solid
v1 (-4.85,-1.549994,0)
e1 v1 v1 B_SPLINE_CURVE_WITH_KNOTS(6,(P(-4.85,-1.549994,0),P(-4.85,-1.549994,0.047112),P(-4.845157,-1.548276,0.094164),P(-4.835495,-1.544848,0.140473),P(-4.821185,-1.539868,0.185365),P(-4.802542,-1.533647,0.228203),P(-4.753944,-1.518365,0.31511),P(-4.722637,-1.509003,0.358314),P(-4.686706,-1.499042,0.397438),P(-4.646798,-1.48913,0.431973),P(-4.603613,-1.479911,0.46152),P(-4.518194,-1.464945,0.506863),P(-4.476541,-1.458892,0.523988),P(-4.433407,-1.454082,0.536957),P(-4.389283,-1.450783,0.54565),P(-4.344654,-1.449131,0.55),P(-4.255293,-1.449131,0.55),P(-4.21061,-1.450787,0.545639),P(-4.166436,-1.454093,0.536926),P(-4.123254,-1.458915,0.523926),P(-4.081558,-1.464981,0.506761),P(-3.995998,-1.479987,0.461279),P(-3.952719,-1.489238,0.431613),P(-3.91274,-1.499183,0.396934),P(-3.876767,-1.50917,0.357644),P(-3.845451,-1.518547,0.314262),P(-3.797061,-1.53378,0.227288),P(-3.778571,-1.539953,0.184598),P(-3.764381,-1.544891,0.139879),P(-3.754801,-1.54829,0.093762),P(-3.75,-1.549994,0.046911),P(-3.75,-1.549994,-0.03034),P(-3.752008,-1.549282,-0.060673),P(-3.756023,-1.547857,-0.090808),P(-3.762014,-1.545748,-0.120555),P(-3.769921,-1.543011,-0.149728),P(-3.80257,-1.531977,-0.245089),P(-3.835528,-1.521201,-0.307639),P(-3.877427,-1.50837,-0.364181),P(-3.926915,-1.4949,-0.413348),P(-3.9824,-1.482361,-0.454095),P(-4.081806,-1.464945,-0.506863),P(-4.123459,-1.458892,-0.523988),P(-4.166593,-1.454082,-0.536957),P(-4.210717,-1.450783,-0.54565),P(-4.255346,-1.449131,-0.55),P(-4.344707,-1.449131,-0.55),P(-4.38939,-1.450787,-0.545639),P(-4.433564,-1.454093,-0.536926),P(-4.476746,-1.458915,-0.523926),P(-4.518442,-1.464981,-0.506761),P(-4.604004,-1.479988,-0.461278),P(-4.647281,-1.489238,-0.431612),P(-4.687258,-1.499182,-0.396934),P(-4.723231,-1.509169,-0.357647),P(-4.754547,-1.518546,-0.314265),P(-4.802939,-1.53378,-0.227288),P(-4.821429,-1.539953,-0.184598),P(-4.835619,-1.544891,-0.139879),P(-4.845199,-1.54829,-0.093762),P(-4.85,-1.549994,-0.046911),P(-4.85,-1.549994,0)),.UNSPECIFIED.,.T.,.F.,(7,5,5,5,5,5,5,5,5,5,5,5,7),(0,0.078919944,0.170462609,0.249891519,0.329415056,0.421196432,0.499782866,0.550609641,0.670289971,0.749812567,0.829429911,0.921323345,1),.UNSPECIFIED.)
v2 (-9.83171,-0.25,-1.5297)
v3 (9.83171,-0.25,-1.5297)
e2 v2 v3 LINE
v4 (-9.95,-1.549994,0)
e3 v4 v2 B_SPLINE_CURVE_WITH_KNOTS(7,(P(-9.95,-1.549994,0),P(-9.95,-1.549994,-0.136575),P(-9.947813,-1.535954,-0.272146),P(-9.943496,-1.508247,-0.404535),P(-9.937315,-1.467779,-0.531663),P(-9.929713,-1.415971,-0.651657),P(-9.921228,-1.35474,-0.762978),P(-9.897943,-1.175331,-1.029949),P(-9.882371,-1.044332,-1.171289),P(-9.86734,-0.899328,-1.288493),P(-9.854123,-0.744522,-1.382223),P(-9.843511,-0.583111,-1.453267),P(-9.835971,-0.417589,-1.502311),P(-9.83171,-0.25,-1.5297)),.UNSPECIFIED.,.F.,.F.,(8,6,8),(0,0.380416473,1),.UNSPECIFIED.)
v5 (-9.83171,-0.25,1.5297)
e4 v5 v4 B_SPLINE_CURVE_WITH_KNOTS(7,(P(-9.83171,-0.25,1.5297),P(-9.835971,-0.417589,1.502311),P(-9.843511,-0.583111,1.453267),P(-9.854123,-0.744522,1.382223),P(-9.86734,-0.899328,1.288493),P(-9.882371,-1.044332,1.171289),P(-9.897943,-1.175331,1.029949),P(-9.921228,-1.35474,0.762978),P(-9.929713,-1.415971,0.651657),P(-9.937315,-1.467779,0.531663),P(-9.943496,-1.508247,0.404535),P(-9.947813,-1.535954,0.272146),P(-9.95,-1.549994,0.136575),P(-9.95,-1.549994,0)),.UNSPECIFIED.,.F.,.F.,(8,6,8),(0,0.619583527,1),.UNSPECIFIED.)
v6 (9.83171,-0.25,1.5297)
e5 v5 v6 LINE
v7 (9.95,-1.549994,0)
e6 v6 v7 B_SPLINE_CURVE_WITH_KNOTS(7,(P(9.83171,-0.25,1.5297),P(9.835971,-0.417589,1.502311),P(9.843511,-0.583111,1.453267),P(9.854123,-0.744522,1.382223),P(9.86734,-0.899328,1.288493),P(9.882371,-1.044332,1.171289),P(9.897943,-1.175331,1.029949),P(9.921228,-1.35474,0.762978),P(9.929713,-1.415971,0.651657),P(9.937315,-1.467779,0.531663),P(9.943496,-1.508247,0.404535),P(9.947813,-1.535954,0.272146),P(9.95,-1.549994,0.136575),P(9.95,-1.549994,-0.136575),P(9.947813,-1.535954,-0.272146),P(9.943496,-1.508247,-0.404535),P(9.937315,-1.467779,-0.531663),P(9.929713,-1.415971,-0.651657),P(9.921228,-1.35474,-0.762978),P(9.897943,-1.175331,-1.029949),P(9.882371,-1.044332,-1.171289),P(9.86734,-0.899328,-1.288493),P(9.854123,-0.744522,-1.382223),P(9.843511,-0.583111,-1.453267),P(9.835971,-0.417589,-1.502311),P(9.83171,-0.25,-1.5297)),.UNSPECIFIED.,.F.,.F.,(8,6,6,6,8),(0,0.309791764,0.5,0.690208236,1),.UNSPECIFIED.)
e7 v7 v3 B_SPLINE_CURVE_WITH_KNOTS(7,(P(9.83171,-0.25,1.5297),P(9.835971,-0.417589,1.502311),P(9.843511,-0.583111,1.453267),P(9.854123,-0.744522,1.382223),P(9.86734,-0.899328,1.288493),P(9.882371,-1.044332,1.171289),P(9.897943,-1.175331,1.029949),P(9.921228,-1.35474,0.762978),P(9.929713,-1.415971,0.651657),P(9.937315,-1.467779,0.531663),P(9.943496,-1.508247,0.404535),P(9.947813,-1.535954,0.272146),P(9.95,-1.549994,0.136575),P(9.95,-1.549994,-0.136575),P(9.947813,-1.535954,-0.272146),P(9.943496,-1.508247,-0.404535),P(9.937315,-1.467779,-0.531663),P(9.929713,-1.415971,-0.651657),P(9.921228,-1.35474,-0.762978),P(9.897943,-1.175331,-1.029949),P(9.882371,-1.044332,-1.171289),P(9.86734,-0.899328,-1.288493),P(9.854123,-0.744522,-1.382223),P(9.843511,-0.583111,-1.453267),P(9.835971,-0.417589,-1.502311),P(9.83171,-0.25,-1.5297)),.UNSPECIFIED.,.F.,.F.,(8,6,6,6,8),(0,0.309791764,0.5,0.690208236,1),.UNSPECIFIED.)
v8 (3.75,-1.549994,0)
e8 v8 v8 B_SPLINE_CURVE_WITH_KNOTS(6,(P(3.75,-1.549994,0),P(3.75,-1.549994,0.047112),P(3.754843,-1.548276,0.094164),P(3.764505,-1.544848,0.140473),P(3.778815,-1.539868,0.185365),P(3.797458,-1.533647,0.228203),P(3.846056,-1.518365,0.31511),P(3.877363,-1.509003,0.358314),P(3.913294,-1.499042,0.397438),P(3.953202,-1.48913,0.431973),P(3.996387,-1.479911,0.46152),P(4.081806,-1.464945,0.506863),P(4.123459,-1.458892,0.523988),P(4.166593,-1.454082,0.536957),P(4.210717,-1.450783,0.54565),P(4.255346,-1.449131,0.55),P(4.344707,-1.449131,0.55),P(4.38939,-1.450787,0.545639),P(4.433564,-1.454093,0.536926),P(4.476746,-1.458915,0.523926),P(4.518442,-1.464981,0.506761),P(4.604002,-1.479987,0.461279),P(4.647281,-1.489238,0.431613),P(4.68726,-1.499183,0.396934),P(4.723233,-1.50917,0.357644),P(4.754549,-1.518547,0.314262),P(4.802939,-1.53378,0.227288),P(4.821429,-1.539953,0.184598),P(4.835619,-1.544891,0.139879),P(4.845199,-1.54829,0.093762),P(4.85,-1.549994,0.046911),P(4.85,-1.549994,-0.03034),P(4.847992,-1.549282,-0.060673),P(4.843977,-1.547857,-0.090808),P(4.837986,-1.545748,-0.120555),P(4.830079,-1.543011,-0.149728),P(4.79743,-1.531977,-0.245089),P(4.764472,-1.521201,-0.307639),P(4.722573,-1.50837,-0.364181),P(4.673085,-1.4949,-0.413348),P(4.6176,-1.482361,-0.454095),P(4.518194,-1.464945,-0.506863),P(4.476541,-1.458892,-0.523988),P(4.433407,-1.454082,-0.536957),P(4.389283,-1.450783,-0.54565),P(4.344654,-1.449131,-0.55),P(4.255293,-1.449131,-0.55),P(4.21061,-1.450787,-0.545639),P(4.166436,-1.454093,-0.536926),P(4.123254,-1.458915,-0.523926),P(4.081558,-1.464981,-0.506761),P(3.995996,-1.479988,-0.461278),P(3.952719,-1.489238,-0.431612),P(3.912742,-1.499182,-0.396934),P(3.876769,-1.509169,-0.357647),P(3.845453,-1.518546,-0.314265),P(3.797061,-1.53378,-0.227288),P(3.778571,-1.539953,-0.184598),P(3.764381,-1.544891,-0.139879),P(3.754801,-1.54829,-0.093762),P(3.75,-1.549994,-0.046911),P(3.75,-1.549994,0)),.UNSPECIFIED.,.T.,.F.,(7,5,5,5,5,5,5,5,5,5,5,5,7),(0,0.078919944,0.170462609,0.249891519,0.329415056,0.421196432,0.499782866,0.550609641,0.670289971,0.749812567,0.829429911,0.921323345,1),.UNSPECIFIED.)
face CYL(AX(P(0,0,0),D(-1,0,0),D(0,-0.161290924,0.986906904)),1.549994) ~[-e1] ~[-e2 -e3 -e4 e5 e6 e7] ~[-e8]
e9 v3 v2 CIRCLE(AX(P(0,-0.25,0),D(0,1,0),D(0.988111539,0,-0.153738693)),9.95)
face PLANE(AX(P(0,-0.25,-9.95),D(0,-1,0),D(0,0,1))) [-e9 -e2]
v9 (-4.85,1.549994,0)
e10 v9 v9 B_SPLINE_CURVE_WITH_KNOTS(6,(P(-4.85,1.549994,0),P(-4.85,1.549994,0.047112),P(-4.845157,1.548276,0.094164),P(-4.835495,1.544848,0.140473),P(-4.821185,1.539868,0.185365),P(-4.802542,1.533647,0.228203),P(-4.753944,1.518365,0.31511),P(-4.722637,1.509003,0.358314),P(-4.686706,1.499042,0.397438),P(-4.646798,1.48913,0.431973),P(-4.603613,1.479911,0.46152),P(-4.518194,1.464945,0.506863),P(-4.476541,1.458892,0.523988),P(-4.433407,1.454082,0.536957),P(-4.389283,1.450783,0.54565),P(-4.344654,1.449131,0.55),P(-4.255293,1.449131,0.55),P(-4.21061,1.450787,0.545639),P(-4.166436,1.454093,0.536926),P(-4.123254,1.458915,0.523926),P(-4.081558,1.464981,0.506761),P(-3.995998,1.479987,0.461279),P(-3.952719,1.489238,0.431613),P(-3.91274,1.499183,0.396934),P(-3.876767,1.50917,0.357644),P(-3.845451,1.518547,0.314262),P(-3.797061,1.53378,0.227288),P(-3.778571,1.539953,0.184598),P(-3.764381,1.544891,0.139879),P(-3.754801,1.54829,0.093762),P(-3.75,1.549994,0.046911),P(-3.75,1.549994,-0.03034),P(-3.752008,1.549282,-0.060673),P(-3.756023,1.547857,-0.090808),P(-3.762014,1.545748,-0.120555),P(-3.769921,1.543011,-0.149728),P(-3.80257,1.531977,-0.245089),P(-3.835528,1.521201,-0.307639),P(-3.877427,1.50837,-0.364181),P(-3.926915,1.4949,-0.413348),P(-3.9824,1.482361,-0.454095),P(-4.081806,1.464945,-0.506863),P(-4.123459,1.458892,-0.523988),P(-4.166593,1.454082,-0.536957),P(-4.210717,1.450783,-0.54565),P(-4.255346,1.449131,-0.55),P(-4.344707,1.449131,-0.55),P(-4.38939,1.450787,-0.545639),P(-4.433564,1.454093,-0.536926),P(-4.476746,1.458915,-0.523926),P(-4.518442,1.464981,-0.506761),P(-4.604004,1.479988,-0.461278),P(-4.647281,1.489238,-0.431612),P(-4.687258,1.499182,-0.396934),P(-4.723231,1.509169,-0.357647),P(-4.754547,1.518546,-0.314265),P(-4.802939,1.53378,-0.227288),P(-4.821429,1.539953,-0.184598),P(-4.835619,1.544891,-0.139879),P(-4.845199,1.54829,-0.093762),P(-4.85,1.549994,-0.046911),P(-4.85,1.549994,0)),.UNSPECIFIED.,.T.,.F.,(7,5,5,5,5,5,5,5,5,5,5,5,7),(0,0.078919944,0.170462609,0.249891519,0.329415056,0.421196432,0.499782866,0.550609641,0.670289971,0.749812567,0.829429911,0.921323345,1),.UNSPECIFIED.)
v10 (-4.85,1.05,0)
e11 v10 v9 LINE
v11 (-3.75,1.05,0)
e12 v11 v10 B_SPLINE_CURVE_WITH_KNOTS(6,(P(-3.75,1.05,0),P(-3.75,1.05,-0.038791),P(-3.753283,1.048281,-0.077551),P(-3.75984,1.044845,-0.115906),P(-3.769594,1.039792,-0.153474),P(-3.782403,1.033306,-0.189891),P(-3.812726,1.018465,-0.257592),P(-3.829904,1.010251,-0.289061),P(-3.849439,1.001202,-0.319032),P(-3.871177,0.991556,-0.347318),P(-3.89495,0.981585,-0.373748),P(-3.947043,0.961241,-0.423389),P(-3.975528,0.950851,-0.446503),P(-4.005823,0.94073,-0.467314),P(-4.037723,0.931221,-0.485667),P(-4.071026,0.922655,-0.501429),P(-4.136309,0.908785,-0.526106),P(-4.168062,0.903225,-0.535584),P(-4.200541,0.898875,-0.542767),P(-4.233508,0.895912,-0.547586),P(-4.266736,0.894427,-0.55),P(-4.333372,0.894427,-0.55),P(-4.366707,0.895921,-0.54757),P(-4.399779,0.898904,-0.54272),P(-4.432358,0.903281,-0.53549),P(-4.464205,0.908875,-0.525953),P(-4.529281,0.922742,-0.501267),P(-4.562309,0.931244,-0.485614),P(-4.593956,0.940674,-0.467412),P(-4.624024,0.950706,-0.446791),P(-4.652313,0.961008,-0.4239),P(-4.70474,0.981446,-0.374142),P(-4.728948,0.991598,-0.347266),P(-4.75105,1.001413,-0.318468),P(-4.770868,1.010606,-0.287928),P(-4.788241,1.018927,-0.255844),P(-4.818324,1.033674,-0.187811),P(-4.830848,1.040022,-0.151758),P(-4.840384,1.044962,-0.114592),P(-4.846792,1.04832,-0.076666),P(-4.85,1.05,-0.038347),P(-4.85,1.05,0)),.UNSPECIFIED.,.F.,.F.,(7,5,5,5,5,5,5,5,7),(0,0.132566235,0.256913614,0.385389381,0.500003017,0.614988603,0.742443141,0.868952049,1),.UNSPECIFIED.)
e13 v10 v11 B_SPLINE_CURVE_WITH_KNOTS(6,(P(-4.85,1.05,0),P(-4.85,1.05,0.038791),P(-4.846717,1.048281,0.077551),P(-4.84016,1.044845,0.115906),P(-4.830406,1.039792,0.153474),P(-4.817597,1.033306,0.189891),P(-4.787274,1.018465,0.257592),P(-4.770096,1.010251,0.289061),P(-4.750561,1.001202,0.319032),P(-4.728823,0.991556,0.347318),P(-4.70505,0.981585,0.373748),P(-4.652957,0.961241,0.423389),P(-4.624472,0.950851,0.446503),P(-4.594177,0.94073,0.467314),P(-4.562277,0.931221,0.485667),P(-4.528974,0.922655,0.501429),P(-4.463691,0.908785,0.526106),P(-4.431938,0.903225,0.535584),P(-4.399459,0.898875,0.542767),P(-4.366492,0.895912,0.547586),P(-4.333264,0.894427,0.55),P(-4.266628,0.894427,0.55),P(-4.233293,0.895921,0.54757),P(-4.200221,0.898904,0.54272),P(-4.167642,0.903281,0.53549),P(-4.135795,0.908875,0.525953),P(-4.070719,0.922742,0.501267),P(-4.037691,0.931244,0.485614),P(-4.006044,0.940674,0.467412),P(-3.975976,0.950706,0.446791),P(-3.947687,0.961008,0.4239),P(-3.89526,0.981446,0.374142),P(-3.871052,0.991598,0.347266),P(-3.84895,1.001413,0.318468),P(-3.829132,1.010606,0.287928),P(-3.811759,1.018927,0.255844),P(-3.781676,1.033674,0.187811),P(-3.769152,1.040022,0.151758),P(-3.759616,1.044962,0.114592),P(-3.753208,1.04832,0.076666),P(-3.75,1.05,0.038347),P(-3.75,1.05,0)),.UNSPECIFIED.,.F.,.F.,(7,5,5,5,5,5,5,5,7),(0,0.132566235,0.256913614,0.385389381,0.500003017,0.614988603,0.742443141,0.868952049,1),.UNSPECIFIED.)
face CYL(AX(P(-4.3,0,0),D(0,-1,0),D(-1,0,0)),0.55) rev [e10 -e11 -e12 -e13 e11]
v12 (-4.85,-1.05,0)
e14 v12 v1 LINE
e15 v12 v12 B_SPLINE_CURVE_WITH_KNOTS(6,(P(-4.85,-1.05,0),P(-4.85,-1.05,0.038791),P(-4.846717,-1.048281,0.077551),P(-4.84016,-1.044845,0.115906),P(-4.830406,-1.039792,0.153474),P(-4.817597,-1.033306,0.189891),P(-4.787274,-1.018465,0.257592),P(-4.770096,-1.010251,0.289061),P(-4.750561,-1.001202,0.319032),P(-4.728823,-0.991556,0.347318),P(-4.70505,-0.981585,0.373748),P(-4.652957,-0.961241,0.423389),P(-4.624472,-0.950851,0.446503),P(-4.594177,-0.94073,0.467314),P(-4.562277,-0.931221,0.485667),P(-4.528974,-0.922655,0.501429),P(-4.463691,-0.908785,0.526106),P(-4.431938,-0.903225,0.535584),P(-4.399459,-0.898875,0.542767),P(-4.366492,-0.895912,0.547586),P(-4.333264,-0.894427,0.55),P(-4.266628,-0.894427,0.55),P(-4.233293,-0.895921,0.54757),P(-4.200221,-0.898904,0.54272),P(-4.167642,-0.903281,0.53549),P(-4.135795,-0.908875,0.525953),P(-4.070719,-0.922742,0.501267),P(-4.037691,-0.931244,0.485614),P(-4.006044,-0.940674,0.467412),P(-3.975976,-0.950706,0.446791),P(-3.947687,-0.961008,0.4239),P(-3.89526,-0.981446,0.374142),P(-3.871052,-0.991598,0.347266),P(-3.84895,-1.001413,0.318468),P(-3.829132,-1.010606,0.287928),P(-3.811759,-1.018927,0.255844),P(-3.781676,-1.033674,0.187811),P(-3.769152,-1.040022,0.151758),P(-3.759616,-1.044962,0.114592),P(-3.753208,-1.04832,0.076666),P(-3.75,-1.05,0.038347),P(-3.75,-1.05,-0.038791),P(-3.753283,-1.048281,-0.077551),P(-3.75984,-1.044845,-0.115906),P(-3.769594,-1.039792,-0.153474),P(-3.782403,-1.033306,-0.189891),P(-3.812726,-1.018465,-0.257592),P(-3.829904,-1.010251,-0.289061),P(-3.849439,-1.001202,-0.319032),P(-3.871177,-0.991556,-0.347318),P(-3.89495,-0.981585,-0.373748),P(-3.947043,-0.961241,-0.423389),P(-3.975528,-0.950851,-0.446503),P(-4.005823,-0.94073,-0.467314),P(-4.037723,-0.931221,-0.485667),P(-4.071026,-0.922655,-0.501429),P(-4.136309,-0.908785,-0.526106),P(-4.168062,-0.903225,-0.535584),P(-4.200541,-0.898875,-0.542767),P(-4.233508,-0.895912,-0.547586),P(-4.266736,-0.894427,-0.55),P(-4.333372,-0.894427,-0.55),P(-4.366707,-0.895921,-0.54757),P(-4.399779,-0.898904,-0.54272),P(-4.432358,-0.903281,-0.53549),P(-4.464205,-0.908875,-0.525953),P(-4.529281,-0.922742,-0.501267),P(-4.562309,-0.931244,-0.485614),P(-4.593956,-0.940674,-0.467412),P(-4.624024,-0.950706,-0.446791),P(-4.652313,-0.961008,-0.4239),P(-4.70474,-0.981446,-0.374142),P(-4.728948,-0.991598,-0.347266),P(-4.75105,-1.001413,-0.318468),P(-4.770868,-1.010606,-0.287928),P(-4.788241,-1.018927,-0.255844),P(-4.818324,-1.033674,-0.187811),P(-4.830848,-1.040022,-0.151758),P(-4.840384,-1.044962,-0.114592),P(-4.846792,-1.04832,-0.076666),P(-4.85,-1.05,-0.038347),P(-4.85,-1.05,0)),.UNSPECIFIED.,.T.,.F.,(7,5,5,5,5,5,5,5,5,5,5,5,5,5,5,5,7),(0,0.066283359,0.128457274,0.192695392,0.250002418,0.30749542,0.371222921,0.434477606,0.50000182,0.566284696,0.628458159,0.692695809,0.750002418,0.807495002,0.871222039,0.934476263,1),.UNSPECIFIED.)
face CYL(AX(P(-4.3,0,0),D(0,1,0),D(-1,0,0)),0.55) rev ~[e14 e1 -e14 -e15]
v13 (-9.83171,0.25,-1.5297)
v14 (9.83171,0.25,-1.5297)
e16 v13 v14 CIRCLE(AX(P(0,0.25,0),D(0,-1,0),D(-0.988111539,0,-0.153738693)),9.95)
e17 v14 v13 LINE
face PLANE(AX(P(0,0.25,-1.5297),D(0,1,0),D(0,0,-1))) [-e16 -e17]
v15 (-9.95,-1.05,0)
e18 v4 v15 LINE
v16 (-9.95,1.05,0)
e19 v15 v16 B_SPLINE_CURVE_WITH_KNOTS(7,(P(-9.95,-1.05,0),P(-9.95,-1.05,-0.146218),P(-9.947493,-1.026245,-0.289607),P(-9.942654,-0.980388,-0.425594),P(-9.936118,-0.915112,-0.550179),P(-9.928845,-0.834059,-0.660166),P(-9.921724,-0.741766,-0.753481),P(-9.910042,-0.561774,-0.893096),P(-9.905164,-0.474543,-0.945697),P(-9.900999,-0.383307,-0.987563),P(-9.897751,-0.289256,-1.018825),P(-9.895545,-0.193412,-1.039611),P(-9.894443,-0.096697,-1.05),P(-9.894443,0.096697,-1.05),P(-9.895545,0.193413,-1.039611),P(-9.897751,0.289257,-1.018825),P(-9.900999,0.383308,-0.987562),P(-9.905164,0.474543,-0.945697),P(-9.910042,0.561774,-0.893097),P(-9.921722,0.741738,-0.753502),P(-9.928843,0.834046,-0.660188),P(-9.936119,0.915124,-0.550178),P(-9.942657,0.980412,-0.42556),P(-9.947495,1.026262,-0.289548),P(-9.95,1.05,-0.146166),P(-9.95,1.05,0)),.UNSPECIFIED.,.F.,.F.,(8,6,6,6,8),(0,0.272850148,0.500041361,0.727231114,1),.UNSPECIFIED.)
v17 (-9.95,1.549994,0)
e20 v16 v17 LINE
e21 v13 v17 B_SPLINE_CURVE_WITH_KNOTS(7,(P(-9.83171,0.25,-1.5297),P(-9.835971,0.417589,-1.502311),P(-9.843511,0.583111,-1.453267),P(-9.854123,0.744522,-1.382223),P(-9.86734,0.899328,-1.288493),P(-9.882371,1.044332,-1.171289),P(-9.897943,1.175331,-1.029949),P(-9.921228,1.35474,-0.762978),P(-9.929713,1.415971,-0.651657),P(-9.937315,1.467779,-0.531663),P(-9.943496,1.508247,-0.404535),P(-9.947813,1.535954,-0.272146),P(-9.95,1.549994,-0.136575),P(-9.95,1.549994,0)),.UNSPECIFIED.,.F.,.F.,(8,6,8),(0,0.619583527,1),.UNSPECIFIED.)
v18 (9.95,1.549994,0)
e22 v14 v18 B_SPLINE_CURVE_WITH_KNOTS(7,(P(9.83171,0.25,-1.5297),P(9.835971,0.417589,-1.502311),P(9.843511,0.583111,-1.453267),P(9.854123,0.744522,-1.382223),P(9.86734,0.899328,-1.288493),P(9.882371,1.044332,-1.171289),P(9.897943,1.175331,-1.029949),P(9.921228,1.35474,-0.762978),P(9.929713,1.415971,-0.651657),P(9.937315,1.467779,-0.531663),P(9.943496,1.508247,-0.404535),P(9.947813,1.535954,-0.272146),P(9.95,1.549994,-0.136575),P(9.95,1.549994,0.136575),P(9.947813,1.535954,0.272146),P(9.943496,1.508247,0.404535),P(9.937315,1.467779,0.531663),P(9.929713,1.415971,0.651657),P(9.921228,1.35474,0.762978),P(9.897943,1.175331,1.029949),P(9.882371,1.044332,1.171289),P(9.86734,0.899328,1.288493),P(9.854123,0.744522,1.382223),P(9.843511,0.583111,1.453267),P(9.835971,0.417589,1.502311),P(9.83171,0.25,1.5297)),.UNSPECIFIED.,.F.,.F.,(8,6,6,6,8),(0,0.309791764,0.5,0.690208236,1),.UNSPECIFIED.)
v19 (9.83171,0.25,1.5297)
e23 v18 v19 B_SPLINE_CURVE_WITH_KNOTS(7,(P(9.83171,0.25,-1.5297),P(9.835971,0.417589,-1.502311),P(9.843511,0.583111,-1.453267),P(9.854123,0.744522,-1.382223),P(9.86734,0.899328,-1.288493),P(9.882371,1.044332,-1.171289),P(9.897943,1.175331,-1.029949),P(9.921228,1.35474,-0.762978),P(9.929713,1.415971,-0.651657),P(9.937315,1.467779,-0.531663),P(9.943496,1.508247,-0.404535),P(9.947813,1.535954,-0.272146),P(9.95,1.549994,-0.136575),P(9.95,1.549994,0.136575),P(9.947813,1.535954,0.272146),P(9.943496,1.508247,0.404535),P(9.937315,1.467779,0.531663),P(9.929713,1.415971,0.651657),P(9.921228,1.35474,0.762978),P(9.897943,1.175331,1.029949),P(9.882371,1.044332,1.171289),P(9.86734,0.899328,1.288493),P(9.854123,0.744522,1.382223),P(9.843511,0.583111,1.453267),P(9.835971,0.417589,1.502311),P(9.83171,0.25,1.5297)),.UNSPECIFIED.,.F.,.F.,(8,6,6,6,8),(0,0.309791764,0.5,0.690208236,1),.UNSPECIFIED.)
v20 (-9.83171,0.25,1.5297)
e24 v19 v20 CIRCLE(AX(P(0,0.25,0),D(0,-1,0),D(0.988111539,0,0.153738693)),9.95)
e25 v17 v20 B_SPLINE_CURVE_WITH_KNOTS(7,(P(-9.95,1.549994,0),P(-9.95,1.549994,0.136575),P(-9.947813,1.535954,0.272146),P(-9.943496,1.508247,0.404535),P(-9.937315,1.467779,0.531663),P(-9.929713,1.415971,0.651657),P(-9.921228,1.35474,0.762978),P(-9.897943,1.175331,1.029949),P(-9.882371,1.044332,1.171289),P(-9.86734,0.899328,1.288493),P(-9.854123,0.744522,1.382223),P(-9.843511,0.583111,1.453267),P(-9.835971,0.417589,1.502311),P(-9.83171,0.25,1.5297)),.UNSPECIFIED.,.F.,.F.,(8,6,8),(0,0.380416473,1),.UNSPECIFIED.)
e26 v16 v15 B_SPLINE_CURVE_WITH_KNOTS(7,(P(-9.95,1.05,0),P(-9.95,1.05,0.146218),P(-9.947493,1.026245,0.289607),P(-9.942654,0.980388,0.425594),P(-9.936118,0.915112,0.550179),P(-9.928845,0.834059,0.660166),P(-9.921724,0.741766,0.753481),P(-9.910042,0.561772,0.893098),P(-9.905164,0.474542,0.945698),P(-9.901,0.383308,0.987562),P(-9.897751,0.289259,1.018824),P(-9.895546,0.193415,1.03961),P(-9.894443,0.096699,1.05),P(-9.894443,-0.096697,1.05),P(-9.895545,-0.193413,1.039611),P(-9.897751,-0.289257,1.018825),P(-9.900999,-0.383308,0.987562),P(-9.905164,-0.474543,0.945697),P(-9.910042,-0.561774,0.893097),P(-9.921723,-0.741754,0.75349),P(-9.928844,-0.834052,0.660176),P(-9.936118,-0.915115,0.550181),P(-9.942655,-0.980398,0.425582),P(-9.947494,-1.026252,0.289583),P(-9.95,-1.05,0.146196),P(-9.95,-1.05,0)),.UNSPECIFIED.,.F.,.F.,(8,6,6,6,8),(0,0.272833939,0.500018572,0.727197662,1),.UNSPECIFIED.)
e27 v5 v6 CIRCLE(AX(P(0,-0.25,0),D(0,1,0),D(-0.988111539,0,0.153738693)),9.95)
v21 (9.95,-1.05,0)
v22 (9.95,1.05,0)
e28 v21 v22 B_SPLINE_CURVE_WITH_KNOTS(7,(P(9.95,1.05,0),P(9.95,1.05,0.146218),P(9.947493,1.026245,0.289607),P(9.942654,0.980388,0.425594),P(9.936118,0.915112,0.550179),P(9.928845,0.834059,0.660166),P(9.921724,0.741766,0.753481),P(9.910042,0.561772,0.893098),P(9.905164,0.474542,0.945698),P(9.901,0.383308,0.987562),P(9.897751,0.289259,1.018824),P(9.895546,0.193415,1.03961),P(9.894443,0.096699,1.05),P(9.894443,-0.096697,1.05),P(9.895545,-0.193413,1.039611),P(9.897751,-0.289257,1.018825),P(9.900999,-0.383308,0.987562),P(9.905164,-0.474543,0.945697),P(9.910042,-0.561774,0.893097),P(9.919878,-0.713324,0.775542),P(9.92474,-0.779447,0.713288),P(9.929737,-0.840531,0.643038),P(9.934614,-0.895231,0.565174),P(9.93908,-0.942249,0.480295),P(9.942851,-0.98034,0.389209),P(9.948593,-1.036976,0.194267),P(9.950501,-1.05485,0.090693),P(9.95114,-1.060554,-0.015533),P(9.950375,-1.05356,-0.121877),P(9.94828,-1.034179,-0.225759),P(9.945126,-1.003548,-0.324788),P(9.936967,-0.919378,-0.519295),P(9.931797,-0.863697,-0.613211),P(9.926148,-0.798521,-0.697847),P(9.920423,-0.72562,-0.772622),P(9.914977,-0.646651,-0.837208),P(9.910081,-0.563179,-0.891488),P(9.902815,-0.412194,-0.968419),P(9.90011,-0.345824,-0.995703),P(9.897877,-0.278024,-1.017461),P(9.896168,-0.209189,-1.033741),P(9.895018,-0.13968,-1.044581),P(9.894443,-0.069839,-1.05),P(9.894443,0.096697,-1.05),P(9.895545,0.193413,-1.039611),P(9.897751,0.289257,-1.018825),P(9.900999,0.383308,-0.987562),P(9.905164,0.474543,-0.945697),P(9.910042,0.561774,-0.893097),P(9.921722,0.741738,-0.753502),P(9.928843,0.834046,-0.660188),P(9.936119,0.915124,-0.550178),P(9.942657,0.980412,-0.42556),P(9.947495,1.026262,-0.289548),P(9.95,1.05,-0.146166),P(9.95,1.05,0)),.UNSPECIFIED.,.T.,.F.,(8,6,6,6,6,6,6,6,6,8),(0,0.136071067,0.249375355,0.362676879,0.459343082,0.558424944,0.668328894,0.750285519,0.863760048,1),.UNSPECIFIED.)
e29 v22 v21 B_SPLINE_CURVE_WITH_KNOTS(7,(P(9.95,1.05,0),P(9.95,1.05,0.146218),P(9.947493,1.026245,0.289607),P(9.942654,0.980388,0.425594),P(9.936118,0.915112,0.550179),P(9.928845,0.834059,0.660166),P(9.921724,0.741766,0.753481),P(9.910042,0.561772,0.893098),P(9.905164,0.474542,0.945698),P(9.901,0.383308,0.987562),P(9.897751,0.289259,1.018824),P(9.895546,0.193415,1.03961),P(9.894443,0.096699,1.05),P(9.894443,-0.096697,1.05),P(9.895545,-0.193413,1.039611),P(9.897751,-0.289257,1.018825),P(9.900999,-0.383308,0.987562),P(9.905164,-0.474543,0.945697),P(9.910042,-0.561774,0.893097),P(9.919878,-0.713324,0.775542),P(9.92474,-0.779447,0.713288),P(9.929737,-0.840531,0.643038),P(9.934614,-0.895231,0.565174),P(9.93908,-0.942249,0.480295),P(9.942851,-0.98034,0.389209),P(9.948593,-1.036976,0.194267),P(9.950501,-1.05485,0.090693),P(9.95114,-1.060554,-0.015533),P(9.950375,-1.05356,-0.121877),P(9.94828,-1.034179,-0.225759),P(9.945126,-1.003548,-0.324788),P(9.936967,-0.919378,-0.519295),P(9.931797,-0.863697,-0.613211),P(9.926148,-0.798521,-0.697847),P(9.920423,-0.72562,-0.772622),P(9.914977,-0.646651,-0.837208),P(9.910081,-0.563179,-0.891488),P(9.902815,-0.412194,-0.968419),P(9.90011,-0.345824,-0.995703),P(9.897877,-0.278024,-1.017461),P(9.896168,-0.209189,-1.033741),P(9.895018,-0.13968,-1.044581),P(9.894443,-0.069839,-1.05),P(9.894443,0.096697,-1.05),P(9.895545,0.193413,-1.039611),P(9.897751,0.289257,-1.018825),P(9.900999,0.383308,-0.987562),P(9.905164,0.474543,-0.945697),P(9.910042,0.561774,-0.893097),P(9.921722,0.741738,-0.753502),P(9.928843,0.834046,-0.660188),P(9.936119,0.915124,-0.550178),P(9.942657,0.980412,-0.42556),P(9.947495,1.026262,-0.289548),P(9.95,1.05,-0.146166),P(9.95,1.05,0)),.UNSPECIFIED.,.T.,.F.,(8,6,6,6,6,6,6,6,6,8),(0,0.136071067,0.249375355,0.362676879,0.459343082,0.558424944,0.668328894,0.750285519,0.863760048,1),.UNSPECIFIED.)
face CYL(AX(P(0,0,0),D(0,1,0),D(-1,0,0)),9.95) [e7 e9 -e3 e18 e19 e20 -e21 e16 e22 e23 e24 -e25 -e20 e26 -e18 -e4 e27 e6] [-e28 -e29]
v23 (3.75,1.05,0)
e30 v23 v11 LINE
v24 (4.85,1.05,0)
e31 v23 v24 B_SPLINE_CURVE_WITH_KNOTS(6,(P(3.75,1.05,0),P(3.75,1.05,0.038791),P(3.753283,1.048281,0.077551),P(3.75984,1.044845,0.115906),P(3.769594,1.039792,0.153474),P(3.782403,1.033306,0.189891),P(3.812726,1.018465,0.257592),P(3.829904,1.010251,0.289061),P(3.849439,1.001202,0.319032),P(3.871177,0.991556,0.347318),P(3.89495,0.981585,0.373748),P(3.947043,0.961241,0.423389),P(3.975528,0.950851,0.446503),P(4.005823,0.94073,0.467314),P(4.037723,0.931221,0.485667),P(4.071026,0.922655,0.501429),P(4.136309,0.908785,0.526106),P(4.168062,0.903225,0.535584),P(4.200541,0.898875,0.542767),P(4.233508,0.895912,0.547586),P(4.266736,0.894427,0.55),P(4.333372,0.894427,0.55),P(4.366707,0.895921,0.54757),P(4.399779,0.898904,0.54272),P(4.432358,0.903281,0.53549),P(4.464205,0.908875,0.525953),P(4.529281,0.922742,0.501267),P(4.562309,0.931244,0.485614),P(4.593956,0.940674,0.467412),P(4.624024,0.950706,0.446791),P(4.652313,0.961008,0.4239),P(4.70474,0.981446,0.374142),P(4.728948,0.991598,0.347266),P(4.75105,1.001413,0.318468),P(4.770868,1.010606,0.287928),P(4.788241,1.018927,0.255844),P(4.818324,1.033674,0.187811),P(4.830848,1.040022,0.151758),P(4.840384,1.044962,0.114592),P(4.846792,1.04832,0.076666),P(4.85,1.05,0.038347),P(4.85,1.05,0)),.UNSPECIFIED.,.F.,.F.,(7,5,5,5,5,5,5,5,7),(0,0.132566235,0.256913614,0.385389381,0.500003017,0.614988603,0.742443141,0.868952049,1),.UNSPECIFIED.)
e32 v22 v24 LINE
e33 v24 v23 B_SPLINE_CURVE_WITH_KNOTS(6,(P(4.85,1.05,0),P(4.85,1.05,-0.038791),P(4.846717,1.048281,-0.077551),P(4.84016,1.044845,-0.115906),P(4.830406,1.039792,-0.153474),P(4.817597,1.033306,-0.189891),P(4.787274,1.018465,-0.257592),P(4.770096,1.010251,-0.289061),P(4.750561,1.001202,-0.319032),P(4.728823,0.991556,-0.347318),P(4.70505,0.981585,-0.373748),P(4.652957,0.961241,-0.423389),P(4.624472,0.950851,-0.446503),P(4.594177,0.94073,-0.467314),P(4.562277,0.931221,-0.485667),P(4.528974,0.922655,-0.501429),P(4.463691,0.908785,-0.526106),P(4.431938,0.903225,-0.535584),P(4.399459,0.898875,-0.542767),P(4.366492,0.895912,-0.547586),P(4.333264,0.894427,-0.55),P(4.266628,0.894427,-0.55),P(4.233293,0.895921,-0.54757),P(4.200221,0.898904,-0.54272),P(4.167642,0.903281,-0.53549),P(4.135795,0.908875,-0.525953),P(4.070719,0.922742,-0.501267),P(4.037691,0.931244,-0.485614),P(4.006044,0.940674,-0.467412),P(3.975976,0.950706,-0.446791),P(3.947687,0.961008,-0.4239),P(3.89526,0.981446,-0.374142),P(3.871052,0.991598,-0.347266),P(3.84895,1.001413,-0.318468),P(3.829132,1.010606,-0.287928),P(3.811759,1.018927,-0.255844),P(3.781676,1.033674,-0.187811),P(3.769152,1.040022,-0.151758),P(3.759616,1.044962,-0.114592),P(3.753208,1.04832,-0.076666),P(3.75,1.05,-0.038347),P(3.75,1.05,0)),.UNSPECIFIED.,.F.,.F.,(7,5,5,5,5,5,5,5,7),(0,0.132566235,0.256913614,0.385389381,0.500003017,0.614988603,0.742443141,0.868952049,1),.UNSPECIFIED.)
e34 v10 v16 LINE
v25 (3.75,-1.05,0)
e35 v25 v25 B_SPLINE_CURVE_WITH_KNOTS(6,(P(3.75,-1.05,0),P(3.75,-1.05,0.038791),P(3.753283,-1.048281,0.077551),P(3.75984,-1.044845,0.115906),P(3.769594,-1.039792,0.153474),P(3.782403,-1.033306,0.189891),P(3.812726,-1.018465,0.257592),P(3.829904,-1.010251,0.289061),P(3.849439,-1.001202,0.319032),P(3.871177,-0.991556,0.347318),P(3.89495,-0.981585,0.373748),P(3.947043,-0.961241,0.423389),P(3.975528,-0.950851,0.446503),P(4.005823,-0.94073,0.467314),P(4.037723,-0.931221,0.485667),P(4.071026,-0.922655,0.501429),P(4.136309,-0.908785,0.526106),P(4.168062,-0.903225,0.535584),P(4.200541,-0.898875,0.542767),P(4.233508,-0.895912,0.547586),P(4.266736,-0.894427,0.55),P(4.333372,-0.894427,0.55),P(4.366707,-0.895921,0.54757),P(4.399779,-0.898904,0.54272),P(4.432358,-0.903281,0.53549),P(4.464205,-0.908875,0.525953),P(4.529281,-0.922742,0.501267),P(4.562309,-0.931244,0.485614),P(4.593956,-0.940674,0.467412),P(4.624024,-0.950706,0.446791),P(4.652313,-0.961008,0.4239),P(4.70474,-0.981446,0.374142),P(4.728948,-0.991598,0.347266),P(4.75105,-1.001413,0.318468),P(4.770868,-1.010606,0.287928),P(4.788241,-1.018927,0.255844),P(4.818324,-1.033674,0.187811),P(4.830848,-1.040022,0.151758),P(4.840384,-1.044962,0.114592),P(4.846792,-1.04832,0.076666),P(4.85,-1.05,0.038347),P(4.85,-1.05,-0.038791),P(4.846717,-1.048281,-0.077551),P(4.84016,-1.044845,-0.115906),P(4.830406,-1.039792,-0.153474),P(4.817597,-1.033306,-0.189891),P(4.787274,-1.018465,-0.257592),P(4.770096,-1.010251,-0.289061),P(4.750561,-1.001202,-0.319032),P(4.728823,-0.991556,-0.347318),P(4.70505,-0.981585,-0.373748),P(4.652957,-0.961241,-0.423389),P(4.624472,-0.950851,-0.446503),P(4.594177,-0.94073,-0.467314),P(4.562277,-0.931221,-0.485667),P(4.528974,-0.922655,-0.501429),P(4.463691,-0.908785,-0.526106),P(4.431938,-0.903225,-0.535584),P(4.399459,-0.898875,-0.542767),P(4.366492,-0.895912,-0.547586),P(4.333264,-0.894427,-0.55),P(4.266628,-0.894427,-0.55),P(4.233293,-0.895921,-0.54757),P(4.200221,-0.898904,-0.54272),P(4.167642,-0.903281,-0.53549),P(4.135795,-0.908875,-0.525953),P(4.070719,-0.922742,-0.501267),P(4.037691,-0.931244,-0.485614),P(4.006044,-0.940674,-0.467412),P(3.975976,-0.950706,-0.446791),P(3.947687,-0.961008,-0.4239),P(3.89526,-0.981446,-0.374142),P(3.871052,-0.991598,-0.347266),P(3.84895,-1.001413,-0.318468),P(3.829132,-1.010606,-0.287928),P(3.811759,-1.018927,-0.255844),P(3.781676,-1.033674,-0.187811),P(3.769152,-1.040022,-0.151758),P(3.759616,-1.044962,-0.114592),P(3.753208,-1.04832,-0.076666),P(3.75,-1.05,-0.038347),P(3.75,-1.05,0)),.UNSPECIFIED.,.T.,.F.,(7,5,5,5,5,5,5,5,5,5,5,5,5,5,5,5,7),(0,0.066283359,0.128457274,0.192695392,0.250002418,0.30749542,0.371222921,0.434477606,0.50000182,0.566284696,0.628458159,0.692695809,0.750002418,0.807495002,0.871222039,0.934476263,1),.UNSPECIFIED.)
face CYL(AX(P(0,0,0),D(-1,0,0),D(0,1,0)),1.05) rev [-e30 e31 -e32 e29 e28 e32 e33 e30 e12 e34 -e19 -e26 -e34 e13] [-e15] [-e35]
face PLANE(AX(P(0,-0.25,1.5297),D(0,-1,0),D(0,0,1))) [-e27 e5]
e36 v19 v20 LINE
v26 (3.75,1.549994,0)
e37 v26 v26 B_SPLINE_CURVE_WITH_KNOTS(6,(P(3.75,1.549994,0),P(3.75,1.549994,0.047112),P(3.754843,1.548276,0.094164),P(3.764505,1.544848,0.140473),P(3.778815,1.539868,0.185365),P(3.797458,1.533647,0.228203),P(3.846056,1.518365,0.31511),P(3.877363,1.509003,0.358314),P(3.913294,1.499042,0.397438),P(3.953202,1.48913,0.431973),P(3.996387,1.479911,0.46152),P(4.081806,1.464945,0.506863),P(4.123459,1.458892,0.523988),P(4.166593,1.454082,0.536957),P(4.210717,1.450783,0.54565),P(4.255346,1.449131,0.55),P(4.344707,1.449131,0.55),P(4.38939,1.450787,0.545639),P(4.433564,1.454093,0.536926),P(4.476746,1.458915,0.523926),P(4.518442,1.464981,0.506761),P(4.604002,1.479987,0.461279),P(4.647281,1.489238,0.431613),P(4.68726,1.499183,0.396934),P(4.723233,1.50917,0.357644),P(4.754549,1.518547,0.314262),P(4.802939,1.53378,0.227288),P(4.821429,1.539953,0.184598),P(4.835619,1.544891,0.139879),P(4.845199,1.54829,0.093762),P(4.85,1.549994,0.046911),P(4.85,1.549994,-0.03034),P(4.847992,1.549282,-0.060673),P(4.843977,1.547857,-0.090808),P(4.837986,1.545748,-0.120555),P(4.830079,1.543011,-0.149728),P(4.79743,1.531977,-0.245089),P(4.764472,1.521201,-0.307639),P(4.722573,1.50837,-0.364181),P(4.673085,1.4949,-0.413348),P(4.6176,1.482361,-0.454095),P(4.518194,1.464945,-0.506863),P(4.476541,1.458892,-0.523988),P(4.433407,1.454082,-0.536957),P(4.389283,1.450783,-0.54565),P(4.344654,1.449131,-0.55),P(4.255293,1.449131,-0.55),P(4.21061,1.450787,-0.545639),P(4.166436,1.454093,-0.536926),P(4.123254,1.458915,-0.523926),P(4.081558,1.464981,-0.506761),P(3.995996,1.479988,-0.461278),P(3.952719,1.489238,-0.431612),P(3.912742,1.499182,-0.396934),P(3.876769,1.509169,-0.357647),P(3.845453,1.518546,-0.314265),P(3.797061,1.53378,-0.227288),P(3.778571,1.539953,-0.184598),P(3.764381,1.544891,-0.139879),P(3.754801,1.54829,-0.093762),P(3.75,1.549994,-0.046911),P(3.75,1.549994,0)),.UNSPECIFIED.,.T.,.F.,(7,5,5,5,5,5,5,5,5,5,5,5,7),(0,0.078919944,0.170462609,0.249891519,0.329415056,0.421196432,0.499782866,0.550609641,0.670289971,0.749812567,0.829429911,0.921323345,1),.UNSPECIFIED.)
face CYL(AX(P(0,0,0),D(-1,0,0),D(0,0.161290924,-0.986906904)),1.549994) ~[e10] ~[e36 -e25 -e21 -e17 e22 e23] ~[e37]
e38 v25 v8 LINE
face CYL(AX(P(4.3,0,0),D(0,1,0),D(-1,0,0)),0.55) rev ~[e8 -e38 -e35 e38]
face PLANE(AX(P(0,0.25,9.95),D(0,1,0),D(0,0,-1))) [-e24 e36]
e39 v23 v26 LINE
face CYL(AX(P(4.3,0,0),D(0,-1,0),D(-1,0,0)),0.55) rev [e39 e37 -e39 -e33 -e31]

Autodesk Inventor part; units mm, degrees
ref_plane "YZ Plane" through (0, 0, 0) normal (1, 0, 0) x (0, 1, 0)
ref_plane "XZ Plane" through (0, 0, 0) normal (0, 1, 0) x (-1, 0, 0)
ref_plane "XY Plane" through (0, 0, 0) normal (0, 0, 1) x (1, 0, 0)
sketch "Sketch1" plane through (0, 0, 0) normal (1, 0, 0) x (0, 1, 0)
  line L0 (-0.25, 9.95) -> (0.25, 9.95)
  line L1 (0.25, -9.95) -> (-0.25, -9.95)
  line L2 (-0.25, 9.95) -> (0.25, -9.95) construction
  line L3 (0.25, 9.95) -> (-0.25, -9.95) construction
  circle A0 centre (0, 0) radius 1.05
  line L4 (0.25, 9.95) -> (0.25, 1.5297)
  line L5 (0.25, -1.5297) -> (0.25, -9.95)
  line L6 (-0.25, -9.95) -> (-0.25, -1.5297)
  line L7 (-0.25, 1.5297) -> (-0.25, 9.95)
  arc A1 (0.25, -1.5297) -> (0.25, 1.5297) centre (0, 0) ccw
  arc A2 (-0.25, 1.5297) -> (-0.25, -1.5297) centre (0, 0) ccw
  dimension "d0" = 0.5
  dimension "d1" = 19.9
  dimension "d3" = 2.1
  dimension "d4" = 0.5
extrude "Extrusion1" add sketch "Sketch1" along normal mid plane 19.9
sketch "Sketch2" plane through (0, 0, 0) normal (0, 1, 0) x (-1, 0, 0)
  circle A0 centre (0, 0) radius 9.95
  circle A1 centre (-4.3, 0) radius 0.55
  line L0 (9.95, 1.5297) -> (-9.95, 1.5297) projected
  line L1 (0, 1.5297) -> (0, -1.5297)
  line L2 (-9.95, -1.5297) -> (9.95, -1.5297) projected
  circle A2 centre (4.3, 0) radius 0.55
  dimension "d7" = 19.9
  dimension "d10" = 1.1
  dimension "d11" = 7.5
extrude "Extrusion2" cut sketch "Sketch2" along normal mid plane 10 keep common part
properties part number "flap"
